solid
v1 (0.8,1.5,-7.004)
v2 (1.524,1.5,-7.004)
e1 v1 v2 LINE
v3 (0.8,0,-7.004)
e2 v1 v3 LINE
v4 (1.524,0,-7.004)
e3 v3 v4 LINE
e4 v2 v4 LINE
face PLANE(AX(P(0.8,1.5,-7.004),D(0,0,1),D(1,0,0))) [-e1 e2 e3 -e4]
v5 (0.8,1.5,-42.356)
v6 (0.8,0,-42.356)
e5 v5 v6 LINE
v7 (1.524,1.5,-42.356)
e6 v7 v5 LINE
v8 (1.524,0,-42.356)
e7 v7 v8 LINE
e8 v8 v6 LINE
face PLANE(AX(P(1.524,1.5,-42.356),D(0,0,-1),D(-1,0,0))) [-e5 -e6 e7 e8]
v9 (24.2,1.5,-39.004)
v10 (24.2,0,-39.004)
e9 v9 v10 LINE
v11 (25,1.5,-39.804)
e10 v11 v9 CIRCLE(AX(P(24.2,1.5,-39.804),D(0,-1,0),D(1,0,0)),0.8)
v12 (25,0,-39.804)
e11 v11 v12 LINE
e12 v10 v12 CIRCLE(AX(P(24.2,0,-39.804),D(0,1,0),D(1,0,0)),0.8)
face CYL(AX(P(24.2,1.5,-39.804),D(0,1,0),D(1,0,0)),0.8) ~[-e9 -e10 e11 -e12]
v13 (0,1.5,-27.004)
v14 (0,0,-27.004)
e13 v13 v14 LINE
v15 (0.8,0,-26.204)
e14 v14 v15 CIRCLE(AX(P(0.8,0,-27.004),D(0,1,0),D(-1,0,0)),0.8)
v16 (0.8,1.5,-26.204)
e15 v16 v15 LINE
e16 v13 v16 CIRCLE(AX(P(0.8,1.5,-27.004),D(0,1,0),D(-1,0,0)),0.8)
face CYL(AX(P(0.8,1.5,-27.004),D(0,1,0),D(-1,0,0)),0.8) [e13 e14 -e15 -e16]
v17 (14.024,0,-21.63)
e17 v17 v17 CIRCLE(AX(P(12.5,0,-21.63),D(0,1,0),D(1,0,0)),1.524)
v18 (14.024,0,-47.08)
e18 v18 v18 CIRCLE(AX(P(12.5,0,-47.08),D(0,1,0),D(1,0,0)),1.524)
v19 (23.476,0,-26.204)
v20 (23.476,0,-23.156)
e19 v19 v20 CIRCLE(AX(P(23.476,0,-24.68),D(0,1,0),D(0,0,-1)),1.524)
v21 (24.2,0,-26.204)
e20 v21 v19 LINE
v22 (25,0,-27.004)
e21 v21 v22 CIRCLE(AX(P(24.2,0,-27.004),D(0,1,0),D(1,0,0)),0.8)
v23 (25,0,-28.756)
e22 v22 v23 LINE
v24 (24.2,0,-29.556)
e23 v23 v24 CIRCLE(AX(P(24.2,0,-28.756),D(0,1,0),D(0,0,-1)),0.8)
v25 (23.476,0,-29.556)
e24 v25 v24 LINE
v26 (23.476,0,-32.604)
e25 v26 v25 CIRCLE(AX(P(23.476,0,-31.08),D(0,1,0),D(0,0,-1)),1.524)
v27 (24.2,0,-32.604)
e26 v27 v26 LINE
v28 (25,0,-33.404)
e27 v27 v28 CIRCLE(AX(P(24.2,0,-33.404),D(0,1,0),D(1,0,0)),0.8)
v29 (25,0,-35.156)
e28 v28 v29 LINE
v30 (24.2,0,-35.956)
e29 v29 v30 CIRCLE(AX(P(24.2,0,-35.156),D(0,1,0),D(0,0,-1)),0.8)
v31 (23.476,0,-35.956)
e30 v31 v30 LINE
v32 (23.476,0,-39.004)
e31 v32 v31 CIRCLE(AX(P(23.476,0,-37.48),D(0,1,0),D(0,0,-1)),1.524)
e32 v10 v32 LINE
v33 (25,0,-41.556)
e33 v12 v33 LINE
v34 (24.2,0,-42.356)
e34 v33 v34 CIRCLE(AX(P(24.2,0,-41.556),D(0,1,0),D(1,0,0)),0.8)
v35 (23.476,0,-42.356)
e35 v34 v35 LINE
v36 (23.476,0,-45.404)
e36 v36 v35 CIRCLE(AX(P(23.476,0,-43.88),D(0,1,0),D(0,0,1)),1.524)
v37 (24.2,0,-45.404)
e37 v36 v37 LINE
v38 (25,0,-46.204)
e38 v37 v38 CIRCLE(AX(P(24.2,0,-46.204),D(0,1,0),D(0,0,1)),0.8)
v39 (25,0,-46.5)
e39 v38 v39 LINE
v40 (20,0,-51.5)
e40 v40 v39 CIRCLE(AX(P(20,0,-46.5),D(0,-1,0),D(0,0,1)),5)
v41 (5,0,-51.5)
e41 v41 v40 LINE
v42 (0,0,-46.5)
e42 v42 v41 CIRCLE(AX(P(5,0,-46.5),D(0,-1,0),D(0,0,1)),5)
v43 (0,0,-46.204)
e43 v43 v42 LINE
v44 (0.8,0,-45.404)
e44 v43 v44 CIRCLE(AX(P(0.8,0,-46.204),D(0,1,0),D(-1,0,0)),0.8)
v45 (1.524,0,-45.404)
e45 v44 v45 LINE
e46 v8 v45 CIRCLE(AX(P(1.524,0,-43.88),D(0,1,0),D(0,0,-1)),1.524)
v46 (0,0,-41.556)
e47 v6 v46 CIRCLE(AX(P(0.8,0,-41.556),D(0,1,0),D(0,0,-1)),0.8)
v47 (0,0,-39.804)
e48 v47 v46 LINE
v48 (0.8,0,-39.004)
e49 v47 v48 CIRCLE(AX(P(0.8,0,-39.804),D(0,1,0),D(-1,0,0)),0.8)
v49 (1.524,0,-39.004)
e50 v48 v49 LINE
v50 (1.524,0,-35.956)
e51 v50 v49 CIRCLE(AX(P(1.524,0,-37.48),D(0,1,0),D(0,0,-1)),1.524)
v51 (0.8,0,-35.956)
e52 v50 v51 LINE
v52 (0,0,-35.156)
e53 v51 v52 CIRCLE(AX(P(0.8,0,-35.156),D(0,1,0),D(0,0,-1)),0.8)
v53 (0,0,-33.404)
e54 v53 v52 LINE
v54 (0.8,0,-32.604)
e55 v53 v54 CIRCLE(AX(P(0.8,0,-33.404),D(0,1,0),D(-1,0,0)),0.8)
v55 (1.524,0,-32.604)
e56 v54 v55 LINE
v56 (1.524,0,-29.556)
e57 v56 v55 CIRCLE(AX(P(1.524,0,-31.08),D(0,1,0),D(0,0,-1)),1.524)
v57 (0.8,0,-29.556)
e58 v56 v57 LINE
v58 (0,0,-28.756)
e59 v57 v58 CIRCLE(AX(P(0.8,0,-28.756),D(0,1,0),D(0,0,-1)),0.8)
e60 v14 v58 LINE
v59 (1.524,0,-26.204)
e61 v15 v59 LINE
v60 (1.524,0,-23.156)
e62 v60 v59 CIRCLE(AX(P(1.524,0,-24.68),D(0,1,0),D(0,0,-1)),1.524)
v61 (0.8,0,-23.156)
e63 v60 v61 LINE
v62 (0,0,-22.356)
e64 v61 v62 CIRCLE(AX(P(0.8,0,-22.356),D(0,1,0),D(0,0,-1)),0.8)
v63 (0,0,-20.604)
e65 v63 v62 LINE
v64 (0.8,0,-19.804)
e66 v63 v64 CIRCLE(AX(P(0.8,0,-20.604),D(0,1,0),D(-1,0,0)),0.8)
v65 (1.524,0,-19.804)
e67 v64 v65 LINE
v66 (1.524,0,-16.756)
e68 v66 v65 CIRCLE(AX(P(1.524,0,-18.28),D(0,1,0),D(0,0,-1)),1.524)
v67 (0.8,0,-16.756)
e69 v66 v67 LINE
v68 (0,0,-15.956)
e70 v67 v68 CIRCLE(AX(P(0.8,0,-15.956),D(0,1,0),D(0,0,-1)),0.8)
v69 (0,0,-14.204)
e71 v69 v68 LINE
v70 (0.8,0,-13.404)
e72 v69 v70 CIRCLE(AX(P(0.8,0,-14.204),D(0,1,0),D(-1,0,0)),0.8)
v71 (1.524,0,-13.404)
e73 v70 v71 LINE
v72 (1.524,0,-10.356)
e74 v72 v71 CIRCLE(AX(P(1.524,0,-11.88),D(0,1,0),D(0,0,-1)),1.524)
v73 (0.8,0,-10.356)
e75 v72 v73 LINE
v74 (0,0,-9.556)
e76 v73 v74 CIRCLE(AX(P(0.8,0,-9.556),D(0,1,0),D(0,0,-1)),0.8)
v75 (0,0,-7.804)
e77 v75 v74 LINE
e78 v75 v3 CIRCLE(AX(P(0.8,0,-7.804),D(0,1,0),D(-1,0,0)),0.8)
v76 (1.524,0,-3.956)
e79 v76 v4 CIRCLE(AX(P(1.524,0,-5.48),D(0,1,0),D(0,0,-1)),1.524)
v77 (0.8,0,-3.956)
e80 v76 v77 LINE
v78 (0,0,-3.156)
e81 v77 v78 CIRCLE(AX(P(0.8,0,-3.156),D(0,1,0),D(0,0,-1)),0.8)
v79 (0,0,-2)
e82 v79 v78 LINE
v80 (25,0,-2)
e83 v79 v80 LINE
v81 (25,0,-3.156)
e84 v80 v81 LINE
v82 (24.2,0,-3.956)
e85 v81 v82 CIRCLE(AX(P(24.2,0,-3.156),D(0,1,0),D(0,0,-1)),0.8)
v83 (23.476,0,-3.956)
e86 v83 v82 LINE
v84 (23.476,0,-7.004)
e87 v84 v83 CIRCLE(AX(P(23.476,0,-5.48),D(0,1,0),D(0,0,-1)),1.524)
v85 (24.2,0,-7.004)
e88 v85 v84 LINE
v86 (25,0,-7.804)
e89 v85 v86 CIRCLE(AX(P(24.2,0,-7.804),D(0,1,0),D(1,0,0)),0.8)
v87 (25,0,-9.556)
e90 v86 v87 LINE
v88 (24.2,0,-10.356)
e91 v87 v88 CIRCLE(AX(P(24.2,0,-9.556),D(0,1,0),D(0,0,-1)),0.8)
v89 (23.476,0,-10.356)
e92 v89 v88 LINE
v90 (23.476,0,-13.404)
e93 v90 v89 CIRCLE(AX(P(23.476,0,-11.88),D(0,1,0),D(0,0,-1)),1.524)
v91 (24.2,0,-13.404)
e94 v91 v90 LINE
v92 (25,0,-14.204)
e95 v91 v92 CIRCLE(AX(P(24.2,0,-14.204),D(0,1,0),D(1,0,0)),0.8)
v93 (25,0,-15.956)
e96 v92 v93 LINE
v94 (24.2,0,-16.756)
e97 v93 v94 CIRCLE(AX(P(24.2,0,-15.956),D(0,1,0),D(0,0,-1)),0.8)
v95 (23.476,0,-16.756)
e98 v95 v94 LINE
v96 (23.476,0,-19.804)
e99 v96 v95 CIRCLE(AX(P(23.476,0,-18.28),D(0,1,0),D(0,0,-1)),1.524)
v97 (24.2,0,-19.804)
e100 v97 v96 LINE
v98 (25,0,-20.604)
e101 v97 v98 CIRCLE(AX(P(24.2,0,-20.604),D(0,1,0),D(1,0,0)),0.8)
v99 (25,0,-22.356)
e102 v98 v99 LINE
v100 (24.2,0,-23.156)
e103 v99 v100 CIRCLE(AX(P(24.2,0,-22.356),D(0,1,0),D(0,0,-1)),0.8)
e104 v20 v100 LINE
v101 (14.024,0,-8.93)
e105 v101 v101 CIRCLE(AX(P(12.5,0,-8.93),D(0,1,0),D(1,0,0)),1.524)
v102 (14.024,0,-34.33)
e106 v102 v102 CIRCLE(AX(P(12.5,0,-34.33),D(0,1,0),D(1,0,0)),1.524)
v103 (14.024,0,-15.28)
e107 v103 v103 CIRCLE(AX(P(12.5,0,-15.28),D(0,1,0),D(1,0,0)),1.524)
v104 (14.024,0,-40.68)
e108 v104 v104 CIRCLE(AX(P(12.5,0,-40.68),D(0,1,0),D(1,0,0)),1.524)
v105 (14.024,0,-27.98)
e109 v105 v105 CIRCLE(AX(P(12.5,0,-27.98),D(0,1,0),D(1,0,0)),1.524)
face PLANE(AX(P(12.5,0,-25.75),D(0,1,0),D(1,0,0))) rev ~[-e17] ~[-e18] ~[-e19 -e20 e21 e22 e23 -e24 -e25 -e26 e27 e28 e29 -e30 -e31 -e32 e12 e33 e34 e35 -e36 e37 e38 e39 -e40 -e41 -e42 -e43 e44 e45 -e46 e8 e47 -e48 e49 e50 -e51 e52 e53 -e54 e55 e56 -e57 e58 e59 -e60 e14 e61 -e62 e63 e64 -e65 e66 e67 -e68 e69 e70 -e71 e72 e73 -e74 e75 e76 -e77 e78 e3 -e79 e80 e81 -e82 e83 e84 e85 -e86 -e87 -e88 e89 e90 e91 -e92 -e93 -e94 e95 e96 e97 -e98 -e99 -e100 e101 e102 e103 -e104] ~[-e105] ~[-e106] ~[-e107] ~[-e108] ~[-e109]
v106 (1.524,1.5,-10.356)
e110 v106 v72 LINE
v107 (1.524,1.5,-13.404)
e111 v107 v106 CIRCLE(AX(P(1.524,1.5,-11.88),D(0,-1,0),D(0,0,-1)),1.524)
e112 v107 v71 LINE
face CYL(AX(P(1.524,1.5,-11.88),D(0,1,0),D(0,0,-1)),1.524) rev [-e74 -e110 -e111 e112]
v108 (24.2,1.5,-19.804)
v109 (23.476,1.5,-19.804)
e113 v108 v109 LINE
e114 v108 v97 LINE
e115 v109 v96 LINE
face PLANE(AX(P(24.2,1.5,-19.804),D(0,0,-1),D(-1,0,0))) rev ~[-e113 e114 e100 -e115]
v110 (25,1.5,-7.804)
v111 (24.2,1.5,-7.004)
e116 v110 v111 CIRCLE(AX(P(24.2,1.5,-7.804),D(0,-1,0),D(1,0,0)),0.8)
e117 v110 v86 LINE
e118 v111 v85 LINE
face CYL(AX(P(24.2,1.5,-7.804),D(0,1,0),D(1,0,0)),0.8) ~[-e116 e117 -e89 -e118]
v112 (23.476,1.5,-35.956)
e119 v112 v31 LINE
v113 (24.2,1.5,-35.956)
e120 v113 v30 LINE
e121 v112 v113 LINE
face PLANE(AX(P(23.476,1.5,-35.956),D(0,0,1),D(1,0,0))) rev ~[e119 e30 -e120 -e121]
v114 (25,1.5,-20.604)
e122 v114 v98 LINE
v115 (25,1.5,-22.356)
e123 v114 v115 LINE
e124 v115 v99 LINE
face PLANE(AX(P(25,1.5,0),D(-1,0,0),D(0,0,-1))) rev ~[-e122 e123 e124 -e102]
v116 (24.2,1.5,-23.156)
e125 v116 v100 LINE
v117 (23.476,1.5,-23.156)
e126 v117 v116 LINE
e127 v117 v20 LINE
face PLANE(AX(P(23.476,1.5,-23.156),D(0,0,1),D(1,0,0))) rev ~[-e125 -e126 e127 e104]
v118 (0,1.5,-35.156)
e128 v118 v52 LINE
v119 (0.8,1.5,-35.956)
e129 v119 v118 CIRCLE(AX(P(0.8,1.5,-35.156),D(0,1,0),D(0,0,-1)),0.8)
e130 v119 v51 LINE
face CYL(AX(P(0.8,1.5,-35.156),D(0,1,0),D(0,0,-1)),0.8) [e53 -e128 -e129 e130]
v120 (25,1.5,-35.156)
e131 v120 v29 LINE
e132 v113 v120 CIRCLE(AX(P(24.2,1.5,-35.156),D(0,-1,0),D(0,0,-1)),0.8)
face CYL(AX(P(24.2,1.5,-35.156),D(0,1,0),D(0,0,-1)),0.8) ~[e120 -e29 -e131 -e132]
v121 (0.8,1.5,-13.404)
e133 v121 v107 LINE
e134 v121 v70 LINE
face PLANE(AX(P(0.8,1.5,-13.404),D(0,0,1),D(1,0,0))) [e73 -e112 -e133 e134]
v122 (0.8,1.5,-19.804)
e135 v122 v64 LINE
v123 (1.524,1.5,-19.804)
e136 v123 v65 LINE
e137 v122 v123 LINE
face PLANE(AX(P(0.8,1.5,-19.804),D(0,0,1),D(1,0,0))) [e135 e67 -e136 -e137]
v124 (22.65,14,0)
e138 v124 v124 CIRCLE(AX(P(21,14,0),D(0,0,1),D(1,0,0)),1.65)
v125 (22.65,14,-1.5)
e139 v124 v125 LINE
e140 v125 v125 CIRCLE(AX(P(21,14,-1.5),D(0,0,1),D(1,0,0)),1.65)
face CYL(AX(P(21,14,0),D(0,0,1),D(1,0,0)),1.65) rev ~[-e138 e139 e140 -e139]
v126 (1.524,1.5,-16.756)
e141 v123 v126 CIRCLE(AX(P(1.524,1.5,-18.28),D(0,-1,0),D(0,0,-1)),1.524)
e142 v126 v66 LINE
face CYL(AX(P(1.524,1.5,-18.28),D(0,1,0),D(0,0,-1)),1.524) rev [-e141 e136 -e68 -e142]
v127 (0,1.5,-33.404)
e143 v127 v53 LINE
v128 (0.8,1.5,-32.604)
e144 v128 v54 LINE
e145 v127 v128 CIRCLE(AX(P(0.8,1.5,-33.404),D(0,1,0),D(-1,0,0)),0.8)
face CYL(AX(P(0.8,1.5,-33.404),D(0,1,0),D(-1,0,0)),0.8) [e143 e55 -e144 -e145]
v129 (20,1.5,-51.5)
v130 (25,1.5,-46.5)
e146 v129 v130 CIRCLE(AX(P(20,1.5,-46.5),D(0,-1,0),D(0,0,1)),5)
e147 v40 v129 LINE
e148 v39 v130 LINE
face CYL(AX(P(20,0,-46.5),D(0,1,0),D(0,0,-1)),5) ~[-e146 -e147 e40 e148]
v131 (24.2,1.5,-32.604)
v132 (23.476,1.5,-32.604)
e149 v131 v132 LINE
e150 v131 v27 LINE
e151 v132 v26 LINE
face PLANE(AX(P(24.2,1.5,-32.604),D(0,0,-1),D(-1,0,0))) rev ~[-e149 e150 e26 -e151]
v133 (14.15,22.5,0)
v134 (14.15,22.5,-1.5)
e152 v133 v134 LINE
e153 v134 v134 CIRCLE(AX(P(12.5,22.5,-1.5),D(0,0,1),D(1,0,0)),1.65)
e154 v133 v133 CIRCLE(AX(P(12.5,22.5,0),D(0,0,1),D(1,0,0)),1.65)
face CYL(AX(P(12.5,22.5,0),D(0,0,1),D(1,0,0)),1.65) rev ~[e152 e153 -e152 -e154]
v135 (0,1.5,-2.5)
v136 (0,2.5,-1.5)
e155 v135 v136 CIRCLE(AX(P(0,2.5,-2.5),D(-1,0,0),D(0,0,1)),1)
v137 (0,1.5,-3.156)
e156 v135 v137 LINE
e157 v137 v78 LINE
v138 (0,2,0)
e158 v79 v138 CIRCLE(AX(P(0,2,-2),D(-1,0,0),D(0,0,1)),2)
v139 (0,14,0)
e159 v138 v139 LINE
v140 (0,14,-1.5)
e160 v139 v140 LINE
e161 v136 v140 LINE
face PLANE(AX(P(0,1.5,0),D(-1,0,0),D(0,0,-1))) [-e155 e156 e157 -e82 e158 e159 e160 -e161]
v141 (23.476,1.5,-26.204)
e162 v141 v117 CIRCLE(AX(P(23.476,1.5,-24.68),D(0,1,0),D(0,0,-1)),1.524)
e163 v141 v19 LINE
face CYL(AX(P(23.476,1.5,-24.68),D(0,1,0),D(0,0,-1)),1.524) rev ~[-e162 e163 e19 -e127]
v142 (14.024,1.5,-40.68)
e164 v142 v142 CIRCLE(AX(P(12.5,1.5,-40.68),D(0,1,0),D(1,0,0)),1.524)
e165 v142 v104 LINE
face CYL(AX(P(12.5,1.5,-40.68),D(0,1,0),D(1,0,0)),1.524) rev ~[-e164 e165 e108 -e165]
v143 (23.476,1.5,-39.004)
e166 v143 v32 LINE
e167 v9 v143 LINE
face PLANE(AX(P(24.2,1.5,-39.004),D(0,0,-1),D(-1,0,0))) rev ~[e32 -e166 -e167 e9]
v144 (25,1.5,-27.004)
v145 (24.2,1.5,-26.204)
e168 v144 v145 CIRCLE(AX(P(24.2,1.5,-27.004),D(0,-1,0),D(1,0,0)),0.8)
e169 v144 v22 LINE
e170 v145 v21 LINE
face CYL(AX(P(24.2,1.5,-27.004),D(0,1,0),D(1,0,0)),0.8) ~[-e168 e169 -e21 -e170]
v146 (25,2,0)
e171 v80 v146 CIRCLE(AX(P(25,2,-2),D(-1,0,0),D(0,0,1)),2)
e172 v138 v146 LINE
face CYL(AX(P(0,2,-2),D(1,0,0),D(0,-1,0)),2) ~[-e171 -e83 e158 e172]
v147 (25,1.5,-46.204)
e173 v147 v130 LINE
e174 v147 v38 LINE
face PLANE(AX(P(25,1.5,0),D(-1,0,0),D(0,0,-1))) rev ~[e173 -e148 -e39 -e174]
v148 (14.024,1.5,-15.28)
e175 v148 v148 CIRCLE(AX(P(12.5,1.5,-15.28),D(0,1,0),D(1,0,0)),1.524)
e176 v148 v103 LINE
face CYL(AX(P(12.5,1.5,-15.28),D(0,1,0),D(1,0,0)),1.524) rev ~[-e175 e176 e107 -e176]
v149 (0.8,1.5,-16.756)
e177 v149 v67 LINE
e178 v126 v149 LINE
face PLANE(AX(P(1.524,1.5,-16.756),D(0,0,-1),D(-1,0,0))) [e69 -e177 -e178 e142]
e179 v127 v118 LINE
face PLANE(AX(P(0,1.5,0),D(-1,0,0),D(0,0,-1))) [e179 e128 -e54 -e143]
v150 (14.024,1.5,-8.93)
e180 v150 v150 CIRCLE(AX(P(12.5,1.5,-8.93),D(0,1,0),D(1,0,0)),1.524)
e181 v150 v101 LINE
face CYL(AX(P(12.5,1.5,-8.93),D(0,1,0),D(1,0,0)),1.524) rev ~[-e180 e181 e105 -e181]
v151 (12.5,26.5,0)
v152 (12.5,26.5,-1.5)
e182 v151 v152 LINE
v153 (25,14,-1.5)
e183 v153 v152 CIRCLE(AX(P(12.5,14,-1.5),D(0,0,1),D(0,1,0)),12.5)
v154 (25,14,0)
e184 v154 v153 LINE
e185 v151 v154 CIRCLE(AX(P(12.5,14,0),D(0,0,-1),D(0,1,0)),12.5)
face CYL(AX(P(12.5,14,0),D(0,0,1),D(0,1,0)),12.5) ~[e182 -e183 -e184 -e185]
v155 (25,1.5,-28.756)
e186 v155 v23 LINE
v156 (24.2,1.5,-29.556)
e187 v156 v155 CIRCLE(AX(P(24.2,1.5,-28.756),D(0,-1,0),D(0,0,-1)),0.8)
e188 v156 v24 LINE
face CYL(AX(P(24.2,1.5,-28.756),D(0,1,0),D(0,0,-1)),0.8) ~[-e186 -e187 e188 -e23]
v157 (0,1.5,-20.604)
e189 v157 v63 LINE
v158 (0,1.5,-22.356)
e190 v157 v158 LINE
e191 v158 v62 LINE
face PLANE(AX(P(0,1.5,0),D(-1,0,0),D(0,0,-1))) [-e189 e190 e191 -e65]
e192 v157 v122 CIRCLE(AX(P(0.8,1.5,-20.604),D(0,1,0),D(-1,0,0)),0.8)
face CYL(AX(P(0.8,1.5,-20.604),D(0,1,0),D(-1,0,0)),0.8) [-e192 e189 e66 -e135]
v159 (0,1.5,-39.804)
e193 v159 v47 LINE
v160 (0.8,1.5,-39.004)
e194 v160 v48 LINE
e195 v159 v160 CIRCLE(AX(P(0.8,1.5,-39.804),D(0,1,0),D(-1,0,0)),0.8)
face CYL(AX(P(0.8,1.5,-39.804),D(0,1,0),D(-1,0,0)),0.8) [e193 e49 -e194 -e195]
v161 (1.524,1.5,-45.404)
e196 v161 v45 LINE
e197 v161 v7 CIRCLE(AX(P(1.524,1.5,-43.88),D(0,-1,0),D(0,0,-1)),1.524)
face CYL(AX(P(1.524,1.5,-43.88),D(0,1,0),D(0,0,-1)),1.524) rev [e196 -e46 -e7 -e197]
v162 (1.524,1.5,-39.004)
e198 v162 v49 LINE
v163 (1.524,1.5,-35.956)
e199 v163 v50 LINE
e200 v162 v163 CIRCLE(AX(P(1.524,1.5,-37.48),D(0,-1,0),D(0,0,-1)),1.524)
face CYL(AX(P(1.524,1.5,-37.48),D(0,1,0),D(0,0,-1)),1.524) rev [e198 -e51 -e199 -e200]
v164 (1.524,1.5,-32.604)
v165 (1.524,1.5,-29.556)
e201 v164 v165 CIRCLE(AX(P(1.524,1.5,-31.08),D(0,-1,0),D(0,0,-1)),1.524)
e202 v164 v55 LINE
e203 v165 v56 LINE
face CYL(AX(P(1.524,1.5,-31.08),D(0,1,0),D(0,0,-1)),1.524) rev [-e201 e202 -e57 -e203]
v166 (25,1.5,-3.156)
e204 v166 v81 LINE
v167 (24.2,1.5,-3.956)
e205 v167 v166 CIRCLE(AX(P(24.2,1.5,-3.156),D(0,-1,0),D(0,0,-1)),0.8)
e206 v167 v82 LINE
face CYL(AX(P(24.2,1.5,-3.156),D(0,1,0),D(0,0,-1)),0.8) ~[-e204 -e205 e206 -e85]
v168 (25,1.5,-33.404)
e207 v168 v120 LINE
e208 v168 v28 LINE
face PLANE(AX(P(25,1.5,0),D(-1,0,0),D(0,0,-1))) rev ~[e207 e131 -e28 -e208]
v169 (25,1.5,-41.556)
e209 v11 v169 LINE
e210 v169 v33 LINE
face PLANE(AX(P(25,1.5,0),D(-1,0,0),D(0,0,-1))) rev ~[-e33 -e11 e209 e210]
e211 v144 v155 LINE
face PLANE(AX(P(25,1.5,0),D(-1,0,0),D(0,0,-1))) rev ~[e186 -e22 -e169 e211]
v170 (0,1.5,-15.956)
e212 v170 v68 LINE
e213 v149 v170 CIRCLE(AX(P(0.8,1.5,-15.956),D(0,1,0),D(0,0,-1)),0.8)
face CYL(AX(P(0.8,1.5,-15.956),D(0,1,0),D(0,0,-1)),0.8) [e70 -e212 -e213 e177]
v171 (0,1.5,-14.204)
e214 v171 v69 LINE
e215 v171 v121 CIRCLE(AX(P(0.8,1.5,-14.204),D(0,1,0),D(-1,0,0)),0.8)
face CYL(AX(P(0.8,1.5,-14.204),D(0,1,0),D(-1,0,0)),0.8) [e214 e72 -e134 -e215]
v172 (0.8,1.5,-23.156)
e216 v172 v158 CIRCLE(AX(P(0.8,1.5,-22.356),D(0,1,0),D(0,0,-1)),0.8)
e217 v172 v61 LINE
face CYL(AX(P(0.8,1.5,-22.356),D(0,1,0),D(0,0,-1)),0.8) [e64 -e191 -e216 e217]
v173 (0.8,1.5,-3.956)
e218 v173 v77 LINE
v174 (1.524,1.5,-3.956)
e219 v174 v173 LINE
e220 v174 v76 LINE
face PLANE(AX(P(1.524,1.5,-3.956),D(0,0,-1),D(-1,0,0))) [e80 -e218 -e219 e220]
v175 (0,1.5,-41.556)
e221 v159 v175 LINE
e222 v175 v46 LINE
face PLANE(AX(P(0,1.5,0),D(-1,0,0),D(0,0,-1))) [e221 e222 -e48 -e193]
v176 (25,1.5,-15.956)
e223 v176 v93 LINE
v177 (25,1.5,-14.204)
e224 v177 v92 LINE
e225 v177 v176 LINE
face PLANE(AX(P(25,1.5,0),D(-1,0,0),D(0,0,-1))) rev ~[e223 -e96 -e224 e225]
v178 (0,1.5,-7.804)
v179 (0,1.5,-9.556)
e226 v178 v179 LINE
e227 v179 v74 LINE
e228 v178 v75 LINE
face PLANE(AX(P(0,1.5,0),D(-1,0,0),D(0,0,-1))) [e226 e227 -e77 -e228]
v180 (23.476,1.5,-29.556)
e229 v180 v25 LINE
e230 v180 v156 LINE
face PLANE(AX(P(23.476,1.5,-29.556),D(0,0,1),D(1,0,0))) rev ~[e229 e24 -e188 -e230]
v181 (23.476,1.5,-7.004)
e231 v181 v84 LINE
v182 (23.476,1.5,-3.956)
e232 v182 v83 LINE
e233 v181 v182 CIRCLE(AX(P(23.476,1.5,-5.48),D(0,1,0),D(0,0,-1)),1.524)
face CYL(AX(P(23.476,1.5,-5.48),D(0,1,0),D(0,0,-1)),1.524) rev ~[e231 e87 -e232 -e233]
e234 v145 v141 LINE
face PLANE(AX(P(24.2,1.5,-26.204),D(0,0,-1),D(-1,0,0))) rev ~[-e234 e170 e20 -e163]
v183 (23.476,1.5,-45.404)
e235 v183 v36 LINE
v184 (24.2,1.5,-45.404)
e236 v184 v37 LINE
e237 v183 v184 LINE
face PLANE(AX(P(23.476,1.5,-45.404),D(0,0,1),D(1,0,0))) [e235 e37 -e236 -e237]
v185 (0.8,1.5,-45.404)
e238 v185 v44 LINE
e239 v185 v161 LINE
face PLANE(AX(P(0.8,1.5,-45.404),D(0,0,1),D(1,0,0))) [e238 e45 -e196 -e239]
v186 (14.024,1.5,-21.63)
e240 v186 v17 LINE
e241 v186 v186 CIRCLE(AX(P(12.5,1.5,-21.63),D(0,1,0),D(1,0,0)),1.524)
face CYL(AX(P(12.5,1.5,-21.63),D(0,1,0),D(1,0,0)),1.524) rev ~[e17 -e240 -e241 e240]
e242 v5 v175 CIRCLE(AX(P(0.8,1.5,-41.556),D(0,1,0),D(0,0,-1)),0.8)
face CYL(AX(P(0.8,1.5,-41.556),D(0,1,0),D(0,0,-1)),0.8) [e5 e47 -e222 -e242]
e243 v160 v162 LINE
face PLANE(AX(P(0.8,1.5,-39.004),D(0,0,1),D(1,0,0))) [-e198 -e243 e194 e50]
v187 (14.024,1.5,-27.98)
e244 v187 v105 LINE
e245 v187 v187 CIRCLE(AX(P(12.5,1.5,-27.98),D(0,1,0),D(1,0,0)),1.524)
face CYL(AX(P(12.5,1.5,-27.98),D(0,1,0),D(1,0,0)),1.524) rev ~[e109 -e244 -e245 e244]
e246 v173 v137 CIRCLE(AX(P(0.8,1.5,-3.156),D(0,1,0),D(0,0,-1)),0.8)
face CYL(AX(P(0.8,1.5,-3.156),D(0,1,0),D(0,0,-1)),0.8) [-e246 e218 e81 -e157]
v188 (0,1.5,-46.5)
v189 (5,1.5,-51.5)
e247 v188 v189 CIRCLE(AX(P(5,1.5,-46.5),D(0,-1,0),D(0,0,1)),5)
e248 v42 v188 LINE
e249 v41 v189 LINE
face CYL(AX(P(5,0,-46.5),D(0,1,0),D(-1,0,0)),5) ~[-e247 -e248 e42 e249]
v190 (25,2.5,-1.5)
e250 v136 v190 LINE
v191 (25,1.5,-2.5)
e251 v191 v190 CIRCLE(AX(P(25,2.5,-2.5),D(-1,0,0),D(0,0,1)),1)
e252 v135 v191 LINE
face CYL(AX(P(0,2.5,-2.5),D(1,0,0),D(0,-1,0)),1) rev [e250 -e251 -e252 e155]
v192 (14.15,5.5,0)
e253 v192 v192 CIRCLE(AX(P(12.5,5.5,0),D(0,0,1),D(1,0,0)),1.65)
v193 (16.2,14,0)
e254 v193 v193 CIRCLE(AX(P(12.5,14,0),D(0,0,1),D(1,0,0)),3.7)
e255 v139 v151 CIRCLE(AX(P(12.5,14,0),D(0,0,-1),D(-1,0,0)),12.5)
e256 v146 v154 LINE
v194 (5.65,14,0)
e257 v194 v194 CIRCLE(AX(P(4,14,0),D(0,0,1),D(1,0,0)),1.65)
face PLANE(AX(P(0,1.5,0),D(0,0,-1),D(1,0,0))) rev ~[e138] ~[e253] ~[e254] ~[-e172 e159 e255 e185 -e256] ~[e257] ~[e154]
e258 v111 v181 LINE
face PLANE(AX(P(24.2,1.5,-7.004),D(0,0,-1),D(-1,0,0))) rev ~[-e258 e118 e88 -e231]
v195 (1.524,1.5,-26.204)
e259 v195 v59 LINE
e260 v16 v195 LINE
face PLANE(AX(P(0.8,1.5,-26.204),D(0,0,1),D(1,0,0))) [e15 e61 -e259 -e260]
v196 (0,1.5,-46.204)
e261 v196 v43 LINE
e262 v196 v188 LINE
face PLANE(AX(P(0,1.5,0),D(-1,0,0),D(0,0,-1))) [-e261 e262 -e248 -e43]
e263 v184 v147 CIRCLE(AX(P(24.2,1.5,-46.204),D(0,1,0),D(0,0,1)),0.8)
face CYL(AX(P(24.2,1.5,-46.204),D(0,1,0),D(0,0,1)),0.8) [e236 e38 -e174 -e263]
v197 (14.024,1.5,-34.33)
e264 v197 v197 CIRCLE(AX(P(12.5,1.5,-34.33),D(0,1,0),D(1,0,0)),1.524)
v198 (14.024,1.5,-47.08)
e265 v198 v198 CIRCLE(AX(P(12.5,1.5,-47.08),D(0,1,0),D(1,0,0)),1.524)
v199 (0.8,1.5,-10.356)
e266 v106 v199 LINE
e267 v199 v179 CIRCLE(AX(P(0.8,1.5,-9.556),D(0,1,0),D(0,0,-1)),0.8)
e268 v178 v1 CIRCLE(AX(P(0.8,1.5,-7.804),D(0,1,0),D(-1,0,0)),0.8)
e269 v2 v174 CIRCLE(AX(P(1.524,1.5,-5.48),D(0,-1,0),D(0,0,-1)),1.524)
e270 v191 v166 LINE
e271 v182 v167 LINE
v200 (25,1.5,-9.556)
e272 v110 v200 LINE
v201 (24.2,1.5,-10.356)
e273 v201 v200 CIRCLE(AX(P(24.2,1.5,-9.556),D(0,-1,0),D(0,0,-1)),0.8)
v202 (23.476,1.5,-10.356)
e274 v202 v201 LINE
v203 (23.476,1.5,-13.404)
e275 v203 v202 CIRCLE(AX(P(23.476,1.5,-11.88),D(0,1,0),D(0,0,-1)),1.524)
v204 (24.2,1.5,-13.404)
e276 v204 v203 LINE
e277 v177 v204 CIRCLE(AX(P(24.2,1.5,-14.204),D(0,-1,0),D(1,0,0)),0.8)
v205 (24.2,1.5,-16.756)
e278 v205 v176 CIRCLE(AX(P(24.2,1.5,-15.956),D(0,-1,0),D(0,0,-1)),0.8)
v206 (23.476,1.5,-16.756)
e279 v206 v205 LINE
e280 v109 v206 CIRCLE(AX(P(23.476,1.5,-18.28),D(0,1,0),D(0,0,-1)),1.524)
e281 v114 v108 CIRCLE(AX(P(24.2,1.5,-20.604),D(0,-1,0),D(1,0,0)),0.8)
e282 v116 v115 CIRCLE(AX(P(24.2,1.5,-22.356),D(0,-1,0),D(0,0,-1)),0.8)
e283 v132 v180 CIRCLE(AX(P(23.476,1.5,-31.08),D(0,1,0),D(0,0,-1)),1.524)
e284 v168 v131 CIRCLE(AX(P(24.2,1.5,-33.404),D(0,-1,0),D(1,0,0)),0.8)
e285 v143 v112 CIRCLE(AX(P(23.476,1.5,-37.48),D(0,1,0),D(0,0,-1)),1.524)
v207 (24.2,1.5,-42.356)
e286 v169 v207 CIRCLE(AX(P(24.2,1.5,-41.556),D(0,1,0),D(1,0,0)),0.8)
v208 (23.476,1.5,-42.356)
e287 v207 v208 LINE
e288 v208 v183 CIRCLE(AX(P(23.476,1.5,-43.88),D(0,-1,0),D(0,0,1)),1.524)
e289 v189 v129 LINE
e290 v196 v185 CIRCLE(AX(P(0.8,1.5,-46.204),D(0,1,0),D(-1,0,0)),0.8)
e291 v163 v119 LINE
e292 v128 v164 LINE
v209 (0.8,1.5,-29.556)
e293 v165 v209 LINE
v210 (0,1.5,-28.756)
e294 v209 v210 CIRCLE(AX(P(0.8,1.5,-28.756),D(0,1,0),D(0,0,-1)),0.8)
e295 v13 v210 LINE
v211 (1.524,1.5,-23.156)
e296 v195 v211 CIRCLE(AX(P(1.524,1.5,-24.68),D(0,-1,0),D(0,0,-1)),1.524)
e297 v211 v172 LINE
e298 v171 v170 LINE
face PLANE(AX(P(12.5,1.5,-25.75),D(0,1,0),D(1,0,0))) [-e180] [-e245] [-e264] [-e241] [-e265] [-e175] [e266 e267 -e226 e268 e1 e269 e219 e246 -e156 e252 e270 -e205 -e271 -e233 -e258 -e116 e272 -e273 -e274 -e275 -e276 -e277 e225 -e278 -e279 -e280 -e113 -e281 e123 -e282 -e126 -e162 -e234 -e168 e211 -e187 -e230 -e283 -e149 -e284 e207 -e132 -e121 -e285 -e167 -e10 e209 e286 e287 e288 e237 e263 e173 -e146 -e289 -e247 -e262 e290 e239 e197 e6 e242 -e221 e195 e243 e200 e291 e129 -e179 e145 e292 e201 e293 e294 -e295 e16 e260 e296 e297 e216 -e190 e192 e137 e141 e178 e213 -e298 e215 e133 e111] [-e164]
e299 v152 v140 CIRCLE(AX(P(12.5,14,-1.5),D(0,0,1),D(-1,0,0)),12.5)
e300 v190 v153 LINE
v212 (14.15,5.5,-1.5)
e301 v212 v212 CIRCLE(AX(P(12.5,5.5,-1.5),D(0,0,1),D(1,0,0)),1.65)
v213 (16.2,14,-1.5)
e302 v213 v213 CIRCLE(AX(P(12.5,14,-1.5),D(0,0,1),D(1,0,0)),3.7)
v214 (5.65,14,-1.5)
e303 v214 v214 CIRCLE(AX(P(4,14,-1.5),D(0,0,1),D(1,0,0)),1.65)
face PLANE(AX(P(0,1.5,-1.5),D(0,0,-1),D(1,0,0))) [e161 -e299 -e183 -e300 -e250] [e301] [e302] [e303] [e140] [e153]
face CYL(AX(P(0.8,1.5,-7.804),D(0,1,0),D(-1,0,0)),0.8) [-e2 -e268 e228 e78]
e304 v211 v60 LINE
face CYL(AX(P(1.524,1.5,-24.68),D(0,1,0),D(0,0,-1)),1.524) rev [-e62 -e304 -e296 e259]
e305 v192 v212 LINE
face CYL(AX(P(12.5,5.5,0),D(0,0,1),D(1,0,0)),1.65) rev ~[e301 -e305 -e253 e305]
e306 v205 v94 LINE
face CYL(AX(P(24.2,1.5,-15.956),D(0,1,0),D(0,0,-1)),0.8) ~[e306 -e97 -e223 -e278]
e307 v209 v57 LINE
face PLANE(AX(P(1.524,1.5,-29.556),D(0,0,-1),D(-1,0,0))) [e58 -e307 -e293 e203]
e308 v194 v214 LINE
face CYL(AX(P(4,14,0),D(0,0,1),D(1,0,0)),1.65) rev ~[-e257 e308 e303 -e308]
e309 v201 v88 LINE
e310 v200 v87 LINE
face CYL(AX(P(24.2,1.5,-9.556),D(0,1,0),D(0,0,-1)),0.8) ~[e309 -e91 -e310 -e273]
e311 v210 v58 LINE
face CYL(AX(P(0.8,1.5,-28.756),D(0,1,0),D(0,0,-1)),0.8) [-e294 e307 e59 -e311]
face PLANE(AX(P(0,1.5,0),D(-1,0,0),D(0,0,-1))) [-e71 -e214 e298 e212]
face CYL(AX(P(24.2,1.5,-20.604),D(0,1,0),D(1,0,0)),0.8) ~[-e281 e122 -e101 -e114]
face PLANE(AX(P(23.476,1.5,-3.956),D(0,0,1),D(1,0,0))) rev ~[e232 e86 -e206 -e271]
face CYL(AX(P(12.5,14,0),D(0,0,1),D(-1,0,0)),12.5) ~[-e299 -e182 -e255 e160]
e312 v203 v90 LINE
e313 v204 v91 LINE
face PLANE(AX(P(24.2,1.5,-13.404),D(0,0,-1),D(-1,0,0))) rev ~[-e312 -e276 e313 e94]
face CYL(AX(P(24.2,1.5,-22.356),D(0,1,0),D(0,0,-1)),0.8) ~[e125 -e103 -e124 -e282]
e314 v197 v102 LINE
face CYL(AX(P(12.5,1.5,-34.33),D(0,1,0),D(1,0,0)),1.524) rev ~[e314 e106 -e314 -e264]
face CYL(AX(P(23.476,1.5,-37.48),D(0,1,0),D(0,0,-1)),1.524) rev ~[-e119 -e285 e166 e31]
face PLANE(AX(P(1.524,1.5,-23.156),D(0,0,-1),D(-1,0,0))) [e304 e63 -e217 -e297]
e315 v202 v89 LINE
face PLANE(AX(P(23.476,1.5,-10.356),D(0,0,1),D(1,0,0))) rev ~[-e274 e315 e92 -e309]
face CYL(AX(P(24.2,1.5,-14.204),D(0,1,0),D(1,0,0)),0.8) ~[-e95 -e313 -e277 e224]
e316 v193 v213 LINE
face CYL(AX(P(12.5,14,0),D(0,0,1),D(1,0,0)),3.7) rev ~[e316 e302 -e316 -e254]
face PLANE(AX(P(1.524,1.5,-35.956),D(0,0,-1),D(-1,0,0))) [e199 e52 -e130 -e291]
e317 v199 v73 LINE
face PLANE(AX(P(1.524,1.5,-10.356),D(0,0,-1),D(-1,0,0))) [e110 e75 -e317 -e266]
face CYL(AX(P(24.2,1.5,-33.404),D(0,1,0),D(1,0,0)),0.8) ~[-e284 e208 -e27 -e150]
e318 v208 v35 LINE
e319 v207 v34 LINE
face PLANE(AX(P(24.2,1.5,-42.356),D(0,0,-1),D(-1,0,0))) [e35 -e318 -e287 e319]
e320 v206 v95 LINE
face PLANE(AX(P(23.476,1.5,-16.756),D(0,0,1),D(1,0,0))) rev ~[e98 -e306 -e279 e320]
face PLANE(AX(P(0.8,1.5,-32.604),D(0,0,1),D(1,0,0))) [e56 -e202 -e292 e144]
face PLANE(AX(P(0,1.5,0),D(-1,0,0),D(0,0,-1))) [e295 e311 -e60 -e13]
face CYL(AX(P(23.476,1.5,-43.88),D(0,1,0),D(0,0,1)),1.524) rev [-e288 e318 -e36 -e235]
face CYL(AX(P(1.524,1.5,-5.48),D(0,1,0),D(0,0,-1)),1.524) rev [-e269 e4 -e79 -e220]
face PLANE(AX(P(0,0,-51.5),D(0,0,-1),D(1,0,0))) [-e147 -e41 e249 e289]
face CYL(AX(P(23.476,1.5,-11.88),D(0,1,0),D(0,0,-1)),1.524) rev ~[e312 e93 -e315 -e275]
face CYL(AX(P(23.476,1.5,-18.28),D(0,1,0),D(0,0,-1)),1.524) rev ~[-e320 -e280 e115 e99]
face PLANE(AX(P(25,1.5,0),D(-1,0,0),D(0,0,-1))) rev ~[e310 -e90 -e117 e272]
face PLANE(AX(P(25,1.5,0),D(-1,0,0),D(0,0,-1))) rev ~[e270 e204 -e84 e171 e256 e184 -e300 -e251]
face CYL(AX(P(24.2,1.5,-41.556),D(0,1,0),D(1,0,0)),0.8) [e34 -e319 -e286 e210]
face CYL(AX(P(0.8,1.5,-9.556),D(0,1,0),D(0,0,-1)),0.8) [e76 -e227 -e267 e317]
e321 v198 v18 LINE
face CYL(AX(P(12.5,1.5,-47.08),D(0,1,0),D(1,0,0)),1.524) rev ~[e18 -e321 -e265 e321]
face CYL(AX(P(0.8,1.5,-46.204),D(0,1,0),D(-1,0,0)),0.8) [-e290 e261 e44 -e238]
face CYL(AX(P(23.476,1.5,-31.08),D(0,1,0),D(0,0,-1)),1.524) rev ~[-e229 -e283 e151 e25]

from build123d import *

# Parameters (mm, degrees)
ESBO_O1_W                = 25
ESBO_O1_H                = 51.5
RESSALTO_EXTRUS_O1_DEPTH = 1.5
ESBO_O4_W                = 25
ESBO_O4_H                = 1.5
RESSALTO_EXTRUS_O2_DEPTH = 25
ESBO_O5_R                = 1.65
ESBO_O5_R_2              = 3.7
CORTE_EXTRUS_O1_DEPTH    = 25
ESBO_O7_R                = 1.524
CORTE_EXTRUS_O2_DEPTH    = 25
FILETE1_R                = 5
FILETE2_R                = 2
FILETE3_R                = 1


with BuildPart() as part:
    # Esboço1 → Ressalto-extrusão1 (new body)
    with BuildSketch(Plane(origin=(0, 0, 0), x_dir=(1, 0, 0), z_dir=(0, 1, 0))):
        with Locations((12.5, 25.75)):
            Rectangle(ESBO_O1_W, ESBO_O1_H)
    extrude(amount=RESSALTO_EXTRUS_O1_DEPTH)

    # Esboço4 → Ressalto-extrusão2 (add)
    with BuildSketch(Plane(origin=(0, 1.5, 0), x_dir=(1, 0, 0), z_dir=(0, 1, 0))):
        with Locations((12.5, 0.75)):
            Rectangle(ESBO_O4_W, ESBO_O4_H)
    extrude(amount=RESSALTO_EXTRUS_O2_DEPTH)

    # Esboço5 → Corte-extrusão1 (cut)
    with BuildSketch(Plane.XY):
        with Locations((4, 14)):
            Circle(ESBO_O5_R)
        with BuildLine():
            ThreePointArc((0, 14), (3.661165235, 22.838834765), (12.5, 26.5))
            Line((12.5, 26.5), (0, 26.5))
            Line((0, 26.5), (0, 14))
        make_face()
        with Locations((12.5, 22.5)):
            Circle(ESBO_O5_R)
        with Locations((12.5, 14)):
            Circle(ESBO_O5_R_2)
        with Locations((21, 14)):
            Circle(ESBO_O5_R)
        with Locations((12.5, 5.5)):
            Circle(ESBO_O5_R)
        with BuildLine():
            ThreePointArc((12.5, 26.5), (21.338834765, 22.838834765), (25, 14))
            Line((25, 14), (25, 26.5))
            Line((25, 26.5), (12.5, 26.5))
        make_face()
    extrude(amount=-CORTE_EXTRUS_O1_DEPTH, mode=Mode.SUBTRACT)

    # Esboço7 → Corte-extrusão2 (cut)
    with BuildSketch(Plane(origin=(0, 1.5, 0), x_dir=(1, 0, 0), z_dir=(0, 1, 0))):
        with Locations((12.5, 40.68)):
            Circle(ESBO_O7_R)
        with Locations((12.5, 34.33)):
            Circle(ESBO_O7_R)
        with Locations((12.5, 27.98)):
            Circle(ESBO_O7_R)
        with Locations((12.5, 21.63)):
            Circle(ESBO_O7_R)
        with Locations((12.5, 15.28)):
            Circle(ESBO_O7_R)
        with Locations((12.5, 8.93)):
            Circle(ESBO_O7_R)
        with Locations((12.5, 47.08)):
            Circle(ESBO_O7_R)
        with BuildLine():
            Line((1.524, 3.956), (0.8, 3.956))
            ThreePointArc((0.8, 3.956), (0.234314575, 3.721685425), (0, 3.156))
            Line((0, 3.156), (0, 7.804))
            ThreePointArc((0, 7.804), (0.234314575, 7.238314575), (0.8, 7.004))
            Line((0.8, 7.004), (1.524, 7.004))
            ThreePointArc((1.524, 7.004), (3.048, 5.48), (1.524, 3.956))
        make_face()
        with BuildLine():
            Line((23.476, 45.404), (24.2, 45.404))
            ThreePointArc((24.2, 45.404), (24.765685425, 45.638314575), (25, 46.204))
            Line((25, 46.204), (25, 41.556))
            ThreePointArc((25, 41.556), (24.765685425, 42.121685425), (24.2, 42.356))
            Line((24.2, 42.356), (23.476, 42.356))
            ThreePointArc((23.476, 42.356), (21.952, 43.88), (23.476, 45.404))
        make_face()
        with BuildLine():
            Line((25, 35.156), (25, 39.804))
            ThreePointArc((25, 39.804), (24.765685425, 39.238314575), (24.2, 39.004))
            Line((24.2, 39.004), (23.476, 39.004))
            ThreePointArc((23.476, 39.004), (21.952, 37.48), (23.476, 35.956))
            Line((23.476, 35.956), (24.2, 35.956))
            ThreePointArc((24.2, 35.956), (24.765685425, 35.721685425), (25, 35.156))
        make_face()
        with BuildLine():
            Line((25, 28.756), (25, 33.404))
            ThreePointArc((25, 33.404), (24.765685425, 32.838314575), (24.2, 32.604))
            Line((24.2, 32.604), (23.476, 32.604))
            ThreePointArc((23.476, 32.604), (21.952, 31.08), (23.476, 29.556))
            Line((23.476, 29.556), (24.2, 29.556))
            ThreePointArc((24.2, 29.556), (24.765685425, 29.321685425), (25, 28.756))
        make_face()
        with BuildLine():
            Line((25, 22.356), (25, 27.004))
            ThreePointArc((25, 27.004), (24.765685425, 26.438314575), (24.2, 26.204))
            Line((24.2, 26.204), (23.476, 26.204))
            ThreePointArc((23.476, 26.204), (21.952, 24.68), (23.476, 23.156))
            Line((23.476, 23.156), (24.2, 23.156))
            ThreePointArc((24.2, 23.156), (24.765685425, 22.921685425), (25, 22.356))
        make_face()
        with BuildLine():
            Line((25, 15.956), (25, 20.604))
            ThreePointArc((25, 20.604), (24.765685425, 20.038314575), (24.2, 19.804))
            Line((24.2, 19.804), (23.476, 19.804))
            ThreePointArc((23.476, 19.804), (21.952, 18.28), (23.476, 16.756))
            Line((23.476, 16.756), (24.2, 16.756))
            ThreePointArc((24.2, 16.756), (24.765685425, 16.521685425), (25, 15.956))
        make_face()
        with BuildLine():
            Line((25, 9.556), (25, 14.204))
            ThreePointArc((25, 14.204), (24.765685425, 13.638314575), (24.2, 13.404))
            Line((24.2, 13.404), (23.476, 13.404))
            ThreePointArc((23.476, 13.404), (21.952, 11.88), (23.476, 10.356))
            Line((23.476, 10.356), (24.2, 10.356))
            ThreePointArc((24.2, 10.356), (24.765685425, 10.121685425), (25, 9.556))
        make_face()
        with BuildLine():
            Line((25, 3.156), (25, 7.804))
            ThreePointArc((25, 7.804), (24.765685425, 7.238314575), (24.2, 7.004))
            Line((24.2, 7.004), (23.476, 7.004))
            ThreePointArc((23.476, 7.004), (21.952, 5.48), (23.476, 3.956))
            Line((23.476, 3.956), (24.2, 3.956))
            ThreePointArc((24.2, 3.956), (24.765685425, 3.721685425), (25, 3.156))
        make_face()
        with BuildLine():
            Line((1.524, 10.356), (0.8, 10.356))
            ThreePointArc((0.8, 10.356), (0.234314575, 10.121685425), (0, 9.556))
            Line((0, 9.556), (0, 14.204))
            ThreePointArc((0, 14.204), (0.234314575, 13.638314575), (0.8, 13.404))
            Line((0.8, 13.404), (1.524, 13.404))
            ThreePointArc((1.524, 13.404), (3.048, 11.88), (1.524, 10.356))
        make_face()
        with BuildLine():
            Line((1.524, 16.756), (0.8, 16.756))
            ThreePointArc((0.8, 16.756), (0.234314575, 16.521685425), (0, 15.956))
            Line((0, 15.956), (0, 20.604))
            ThreePointArc((0, 20.604), (0.234314575, 20.038314575), (0.8, 19.804))
            Line((0.8, 19.804), (1.524, 19.804))
            ThreePointArc((1.524, 19.804), (3.048, 18.28), (1.524, 16.756))
        make_face()
        with BuildLine():
            Line((1.524, 23.156), (0.8, 23.156))
            ThreePointArc((0.8, 23.156), (0.234314575, 22.921685425), (0, 22.356))
            Line((0, 22.356), (0, 27.004))
            ThreePointArc((0, 27.004), (0.234314575, 26.438314575), (0.8, 26.204))
            Line((0.8, 26.204), (1.524, 26.204))
            ThreePointArc((1.524, 26.204), (3.048, 24.68), (1.524, 23.156))
        make_face()
        with BuildLine():
            Line((1.524, 29.556), (0.8, 29.556))
            ThreePointArc((0.8, 29.556), (0.234314575, 29.321685425), (0, 28.756))
            Line((0, 28.756), (0, 33.404))
            ThreePointArc((0, 33.404), (0.234314575, 32.838314575), (0.8, 32.604))
            Line((0.8, 32.604), (1.524, 32.604))
            ThreePointArc((1.524, 32.604), (3.048, 31.08), (1.524, 29.556))
        make_face()
        with BuildLine():
            Line((1.524, 35.956), (0.8, 35.956))
            ThreePointArc((0.8, 35.956), (0.234314575, 35.721685425), (0, 35.156))
            Line((0, 35.156), (0, 39.804))
            ThreePointArc((0, 39.804), (0.234314575, 39.238314575), (0.8, 39.004))
            Line((0.8, 39.004), (1.524, 39.004))
            ThreePointArc((1.524, 39.004), (3.048, 37.48), (1.524, 35.956))
        make_face()
        with BuildLine():
            Line((0, 41.556), (0, 46.204))
            ThreePointArc((0, 46.204), (0.234314575, 45.638314575), (0.8, 45.404))
            Line((0.8, 45.404), (1.524, 45.404))
            ThreePointArc((1.524, 45.404), (3.048, 43.88), (1.524, 42.356))
            Line((1.524, 42.356), (0.8, 42.356))
            ThreePointArc((0.8, 42.356), (0.234314575, 42.121685425), (0, 41.556))
        make_face()
    extrude(amount=-CORTE_EXTRUS_O2_DEPTH, mode=Mode.SUBTRACT)

    # Filete1
    filete1_edges = [part.edges().sort_by_distance(p)[0] for p in [
        (0, 0.75, -51.5),
        (25, 0.75, -51.5),
    ]]
    fillet(filete1_edges, radius=FILETE1_R)

    # Filete2
    filete2_edges = [part.edges().sort_by_distance(p)[0] for p in [
        (12.5, 0, 0),
    ]]
    fillet(filete2_edges, radius=FILETE2_R)

    # Filete3
    filete3_edges = [part.edges().sort_by_distance(p)[0] for p in [
        (12.5, 1.5, -1.5),
    ]]
    fillet(filete3_edges, radius=FILETE3_R)


solid = part.part
